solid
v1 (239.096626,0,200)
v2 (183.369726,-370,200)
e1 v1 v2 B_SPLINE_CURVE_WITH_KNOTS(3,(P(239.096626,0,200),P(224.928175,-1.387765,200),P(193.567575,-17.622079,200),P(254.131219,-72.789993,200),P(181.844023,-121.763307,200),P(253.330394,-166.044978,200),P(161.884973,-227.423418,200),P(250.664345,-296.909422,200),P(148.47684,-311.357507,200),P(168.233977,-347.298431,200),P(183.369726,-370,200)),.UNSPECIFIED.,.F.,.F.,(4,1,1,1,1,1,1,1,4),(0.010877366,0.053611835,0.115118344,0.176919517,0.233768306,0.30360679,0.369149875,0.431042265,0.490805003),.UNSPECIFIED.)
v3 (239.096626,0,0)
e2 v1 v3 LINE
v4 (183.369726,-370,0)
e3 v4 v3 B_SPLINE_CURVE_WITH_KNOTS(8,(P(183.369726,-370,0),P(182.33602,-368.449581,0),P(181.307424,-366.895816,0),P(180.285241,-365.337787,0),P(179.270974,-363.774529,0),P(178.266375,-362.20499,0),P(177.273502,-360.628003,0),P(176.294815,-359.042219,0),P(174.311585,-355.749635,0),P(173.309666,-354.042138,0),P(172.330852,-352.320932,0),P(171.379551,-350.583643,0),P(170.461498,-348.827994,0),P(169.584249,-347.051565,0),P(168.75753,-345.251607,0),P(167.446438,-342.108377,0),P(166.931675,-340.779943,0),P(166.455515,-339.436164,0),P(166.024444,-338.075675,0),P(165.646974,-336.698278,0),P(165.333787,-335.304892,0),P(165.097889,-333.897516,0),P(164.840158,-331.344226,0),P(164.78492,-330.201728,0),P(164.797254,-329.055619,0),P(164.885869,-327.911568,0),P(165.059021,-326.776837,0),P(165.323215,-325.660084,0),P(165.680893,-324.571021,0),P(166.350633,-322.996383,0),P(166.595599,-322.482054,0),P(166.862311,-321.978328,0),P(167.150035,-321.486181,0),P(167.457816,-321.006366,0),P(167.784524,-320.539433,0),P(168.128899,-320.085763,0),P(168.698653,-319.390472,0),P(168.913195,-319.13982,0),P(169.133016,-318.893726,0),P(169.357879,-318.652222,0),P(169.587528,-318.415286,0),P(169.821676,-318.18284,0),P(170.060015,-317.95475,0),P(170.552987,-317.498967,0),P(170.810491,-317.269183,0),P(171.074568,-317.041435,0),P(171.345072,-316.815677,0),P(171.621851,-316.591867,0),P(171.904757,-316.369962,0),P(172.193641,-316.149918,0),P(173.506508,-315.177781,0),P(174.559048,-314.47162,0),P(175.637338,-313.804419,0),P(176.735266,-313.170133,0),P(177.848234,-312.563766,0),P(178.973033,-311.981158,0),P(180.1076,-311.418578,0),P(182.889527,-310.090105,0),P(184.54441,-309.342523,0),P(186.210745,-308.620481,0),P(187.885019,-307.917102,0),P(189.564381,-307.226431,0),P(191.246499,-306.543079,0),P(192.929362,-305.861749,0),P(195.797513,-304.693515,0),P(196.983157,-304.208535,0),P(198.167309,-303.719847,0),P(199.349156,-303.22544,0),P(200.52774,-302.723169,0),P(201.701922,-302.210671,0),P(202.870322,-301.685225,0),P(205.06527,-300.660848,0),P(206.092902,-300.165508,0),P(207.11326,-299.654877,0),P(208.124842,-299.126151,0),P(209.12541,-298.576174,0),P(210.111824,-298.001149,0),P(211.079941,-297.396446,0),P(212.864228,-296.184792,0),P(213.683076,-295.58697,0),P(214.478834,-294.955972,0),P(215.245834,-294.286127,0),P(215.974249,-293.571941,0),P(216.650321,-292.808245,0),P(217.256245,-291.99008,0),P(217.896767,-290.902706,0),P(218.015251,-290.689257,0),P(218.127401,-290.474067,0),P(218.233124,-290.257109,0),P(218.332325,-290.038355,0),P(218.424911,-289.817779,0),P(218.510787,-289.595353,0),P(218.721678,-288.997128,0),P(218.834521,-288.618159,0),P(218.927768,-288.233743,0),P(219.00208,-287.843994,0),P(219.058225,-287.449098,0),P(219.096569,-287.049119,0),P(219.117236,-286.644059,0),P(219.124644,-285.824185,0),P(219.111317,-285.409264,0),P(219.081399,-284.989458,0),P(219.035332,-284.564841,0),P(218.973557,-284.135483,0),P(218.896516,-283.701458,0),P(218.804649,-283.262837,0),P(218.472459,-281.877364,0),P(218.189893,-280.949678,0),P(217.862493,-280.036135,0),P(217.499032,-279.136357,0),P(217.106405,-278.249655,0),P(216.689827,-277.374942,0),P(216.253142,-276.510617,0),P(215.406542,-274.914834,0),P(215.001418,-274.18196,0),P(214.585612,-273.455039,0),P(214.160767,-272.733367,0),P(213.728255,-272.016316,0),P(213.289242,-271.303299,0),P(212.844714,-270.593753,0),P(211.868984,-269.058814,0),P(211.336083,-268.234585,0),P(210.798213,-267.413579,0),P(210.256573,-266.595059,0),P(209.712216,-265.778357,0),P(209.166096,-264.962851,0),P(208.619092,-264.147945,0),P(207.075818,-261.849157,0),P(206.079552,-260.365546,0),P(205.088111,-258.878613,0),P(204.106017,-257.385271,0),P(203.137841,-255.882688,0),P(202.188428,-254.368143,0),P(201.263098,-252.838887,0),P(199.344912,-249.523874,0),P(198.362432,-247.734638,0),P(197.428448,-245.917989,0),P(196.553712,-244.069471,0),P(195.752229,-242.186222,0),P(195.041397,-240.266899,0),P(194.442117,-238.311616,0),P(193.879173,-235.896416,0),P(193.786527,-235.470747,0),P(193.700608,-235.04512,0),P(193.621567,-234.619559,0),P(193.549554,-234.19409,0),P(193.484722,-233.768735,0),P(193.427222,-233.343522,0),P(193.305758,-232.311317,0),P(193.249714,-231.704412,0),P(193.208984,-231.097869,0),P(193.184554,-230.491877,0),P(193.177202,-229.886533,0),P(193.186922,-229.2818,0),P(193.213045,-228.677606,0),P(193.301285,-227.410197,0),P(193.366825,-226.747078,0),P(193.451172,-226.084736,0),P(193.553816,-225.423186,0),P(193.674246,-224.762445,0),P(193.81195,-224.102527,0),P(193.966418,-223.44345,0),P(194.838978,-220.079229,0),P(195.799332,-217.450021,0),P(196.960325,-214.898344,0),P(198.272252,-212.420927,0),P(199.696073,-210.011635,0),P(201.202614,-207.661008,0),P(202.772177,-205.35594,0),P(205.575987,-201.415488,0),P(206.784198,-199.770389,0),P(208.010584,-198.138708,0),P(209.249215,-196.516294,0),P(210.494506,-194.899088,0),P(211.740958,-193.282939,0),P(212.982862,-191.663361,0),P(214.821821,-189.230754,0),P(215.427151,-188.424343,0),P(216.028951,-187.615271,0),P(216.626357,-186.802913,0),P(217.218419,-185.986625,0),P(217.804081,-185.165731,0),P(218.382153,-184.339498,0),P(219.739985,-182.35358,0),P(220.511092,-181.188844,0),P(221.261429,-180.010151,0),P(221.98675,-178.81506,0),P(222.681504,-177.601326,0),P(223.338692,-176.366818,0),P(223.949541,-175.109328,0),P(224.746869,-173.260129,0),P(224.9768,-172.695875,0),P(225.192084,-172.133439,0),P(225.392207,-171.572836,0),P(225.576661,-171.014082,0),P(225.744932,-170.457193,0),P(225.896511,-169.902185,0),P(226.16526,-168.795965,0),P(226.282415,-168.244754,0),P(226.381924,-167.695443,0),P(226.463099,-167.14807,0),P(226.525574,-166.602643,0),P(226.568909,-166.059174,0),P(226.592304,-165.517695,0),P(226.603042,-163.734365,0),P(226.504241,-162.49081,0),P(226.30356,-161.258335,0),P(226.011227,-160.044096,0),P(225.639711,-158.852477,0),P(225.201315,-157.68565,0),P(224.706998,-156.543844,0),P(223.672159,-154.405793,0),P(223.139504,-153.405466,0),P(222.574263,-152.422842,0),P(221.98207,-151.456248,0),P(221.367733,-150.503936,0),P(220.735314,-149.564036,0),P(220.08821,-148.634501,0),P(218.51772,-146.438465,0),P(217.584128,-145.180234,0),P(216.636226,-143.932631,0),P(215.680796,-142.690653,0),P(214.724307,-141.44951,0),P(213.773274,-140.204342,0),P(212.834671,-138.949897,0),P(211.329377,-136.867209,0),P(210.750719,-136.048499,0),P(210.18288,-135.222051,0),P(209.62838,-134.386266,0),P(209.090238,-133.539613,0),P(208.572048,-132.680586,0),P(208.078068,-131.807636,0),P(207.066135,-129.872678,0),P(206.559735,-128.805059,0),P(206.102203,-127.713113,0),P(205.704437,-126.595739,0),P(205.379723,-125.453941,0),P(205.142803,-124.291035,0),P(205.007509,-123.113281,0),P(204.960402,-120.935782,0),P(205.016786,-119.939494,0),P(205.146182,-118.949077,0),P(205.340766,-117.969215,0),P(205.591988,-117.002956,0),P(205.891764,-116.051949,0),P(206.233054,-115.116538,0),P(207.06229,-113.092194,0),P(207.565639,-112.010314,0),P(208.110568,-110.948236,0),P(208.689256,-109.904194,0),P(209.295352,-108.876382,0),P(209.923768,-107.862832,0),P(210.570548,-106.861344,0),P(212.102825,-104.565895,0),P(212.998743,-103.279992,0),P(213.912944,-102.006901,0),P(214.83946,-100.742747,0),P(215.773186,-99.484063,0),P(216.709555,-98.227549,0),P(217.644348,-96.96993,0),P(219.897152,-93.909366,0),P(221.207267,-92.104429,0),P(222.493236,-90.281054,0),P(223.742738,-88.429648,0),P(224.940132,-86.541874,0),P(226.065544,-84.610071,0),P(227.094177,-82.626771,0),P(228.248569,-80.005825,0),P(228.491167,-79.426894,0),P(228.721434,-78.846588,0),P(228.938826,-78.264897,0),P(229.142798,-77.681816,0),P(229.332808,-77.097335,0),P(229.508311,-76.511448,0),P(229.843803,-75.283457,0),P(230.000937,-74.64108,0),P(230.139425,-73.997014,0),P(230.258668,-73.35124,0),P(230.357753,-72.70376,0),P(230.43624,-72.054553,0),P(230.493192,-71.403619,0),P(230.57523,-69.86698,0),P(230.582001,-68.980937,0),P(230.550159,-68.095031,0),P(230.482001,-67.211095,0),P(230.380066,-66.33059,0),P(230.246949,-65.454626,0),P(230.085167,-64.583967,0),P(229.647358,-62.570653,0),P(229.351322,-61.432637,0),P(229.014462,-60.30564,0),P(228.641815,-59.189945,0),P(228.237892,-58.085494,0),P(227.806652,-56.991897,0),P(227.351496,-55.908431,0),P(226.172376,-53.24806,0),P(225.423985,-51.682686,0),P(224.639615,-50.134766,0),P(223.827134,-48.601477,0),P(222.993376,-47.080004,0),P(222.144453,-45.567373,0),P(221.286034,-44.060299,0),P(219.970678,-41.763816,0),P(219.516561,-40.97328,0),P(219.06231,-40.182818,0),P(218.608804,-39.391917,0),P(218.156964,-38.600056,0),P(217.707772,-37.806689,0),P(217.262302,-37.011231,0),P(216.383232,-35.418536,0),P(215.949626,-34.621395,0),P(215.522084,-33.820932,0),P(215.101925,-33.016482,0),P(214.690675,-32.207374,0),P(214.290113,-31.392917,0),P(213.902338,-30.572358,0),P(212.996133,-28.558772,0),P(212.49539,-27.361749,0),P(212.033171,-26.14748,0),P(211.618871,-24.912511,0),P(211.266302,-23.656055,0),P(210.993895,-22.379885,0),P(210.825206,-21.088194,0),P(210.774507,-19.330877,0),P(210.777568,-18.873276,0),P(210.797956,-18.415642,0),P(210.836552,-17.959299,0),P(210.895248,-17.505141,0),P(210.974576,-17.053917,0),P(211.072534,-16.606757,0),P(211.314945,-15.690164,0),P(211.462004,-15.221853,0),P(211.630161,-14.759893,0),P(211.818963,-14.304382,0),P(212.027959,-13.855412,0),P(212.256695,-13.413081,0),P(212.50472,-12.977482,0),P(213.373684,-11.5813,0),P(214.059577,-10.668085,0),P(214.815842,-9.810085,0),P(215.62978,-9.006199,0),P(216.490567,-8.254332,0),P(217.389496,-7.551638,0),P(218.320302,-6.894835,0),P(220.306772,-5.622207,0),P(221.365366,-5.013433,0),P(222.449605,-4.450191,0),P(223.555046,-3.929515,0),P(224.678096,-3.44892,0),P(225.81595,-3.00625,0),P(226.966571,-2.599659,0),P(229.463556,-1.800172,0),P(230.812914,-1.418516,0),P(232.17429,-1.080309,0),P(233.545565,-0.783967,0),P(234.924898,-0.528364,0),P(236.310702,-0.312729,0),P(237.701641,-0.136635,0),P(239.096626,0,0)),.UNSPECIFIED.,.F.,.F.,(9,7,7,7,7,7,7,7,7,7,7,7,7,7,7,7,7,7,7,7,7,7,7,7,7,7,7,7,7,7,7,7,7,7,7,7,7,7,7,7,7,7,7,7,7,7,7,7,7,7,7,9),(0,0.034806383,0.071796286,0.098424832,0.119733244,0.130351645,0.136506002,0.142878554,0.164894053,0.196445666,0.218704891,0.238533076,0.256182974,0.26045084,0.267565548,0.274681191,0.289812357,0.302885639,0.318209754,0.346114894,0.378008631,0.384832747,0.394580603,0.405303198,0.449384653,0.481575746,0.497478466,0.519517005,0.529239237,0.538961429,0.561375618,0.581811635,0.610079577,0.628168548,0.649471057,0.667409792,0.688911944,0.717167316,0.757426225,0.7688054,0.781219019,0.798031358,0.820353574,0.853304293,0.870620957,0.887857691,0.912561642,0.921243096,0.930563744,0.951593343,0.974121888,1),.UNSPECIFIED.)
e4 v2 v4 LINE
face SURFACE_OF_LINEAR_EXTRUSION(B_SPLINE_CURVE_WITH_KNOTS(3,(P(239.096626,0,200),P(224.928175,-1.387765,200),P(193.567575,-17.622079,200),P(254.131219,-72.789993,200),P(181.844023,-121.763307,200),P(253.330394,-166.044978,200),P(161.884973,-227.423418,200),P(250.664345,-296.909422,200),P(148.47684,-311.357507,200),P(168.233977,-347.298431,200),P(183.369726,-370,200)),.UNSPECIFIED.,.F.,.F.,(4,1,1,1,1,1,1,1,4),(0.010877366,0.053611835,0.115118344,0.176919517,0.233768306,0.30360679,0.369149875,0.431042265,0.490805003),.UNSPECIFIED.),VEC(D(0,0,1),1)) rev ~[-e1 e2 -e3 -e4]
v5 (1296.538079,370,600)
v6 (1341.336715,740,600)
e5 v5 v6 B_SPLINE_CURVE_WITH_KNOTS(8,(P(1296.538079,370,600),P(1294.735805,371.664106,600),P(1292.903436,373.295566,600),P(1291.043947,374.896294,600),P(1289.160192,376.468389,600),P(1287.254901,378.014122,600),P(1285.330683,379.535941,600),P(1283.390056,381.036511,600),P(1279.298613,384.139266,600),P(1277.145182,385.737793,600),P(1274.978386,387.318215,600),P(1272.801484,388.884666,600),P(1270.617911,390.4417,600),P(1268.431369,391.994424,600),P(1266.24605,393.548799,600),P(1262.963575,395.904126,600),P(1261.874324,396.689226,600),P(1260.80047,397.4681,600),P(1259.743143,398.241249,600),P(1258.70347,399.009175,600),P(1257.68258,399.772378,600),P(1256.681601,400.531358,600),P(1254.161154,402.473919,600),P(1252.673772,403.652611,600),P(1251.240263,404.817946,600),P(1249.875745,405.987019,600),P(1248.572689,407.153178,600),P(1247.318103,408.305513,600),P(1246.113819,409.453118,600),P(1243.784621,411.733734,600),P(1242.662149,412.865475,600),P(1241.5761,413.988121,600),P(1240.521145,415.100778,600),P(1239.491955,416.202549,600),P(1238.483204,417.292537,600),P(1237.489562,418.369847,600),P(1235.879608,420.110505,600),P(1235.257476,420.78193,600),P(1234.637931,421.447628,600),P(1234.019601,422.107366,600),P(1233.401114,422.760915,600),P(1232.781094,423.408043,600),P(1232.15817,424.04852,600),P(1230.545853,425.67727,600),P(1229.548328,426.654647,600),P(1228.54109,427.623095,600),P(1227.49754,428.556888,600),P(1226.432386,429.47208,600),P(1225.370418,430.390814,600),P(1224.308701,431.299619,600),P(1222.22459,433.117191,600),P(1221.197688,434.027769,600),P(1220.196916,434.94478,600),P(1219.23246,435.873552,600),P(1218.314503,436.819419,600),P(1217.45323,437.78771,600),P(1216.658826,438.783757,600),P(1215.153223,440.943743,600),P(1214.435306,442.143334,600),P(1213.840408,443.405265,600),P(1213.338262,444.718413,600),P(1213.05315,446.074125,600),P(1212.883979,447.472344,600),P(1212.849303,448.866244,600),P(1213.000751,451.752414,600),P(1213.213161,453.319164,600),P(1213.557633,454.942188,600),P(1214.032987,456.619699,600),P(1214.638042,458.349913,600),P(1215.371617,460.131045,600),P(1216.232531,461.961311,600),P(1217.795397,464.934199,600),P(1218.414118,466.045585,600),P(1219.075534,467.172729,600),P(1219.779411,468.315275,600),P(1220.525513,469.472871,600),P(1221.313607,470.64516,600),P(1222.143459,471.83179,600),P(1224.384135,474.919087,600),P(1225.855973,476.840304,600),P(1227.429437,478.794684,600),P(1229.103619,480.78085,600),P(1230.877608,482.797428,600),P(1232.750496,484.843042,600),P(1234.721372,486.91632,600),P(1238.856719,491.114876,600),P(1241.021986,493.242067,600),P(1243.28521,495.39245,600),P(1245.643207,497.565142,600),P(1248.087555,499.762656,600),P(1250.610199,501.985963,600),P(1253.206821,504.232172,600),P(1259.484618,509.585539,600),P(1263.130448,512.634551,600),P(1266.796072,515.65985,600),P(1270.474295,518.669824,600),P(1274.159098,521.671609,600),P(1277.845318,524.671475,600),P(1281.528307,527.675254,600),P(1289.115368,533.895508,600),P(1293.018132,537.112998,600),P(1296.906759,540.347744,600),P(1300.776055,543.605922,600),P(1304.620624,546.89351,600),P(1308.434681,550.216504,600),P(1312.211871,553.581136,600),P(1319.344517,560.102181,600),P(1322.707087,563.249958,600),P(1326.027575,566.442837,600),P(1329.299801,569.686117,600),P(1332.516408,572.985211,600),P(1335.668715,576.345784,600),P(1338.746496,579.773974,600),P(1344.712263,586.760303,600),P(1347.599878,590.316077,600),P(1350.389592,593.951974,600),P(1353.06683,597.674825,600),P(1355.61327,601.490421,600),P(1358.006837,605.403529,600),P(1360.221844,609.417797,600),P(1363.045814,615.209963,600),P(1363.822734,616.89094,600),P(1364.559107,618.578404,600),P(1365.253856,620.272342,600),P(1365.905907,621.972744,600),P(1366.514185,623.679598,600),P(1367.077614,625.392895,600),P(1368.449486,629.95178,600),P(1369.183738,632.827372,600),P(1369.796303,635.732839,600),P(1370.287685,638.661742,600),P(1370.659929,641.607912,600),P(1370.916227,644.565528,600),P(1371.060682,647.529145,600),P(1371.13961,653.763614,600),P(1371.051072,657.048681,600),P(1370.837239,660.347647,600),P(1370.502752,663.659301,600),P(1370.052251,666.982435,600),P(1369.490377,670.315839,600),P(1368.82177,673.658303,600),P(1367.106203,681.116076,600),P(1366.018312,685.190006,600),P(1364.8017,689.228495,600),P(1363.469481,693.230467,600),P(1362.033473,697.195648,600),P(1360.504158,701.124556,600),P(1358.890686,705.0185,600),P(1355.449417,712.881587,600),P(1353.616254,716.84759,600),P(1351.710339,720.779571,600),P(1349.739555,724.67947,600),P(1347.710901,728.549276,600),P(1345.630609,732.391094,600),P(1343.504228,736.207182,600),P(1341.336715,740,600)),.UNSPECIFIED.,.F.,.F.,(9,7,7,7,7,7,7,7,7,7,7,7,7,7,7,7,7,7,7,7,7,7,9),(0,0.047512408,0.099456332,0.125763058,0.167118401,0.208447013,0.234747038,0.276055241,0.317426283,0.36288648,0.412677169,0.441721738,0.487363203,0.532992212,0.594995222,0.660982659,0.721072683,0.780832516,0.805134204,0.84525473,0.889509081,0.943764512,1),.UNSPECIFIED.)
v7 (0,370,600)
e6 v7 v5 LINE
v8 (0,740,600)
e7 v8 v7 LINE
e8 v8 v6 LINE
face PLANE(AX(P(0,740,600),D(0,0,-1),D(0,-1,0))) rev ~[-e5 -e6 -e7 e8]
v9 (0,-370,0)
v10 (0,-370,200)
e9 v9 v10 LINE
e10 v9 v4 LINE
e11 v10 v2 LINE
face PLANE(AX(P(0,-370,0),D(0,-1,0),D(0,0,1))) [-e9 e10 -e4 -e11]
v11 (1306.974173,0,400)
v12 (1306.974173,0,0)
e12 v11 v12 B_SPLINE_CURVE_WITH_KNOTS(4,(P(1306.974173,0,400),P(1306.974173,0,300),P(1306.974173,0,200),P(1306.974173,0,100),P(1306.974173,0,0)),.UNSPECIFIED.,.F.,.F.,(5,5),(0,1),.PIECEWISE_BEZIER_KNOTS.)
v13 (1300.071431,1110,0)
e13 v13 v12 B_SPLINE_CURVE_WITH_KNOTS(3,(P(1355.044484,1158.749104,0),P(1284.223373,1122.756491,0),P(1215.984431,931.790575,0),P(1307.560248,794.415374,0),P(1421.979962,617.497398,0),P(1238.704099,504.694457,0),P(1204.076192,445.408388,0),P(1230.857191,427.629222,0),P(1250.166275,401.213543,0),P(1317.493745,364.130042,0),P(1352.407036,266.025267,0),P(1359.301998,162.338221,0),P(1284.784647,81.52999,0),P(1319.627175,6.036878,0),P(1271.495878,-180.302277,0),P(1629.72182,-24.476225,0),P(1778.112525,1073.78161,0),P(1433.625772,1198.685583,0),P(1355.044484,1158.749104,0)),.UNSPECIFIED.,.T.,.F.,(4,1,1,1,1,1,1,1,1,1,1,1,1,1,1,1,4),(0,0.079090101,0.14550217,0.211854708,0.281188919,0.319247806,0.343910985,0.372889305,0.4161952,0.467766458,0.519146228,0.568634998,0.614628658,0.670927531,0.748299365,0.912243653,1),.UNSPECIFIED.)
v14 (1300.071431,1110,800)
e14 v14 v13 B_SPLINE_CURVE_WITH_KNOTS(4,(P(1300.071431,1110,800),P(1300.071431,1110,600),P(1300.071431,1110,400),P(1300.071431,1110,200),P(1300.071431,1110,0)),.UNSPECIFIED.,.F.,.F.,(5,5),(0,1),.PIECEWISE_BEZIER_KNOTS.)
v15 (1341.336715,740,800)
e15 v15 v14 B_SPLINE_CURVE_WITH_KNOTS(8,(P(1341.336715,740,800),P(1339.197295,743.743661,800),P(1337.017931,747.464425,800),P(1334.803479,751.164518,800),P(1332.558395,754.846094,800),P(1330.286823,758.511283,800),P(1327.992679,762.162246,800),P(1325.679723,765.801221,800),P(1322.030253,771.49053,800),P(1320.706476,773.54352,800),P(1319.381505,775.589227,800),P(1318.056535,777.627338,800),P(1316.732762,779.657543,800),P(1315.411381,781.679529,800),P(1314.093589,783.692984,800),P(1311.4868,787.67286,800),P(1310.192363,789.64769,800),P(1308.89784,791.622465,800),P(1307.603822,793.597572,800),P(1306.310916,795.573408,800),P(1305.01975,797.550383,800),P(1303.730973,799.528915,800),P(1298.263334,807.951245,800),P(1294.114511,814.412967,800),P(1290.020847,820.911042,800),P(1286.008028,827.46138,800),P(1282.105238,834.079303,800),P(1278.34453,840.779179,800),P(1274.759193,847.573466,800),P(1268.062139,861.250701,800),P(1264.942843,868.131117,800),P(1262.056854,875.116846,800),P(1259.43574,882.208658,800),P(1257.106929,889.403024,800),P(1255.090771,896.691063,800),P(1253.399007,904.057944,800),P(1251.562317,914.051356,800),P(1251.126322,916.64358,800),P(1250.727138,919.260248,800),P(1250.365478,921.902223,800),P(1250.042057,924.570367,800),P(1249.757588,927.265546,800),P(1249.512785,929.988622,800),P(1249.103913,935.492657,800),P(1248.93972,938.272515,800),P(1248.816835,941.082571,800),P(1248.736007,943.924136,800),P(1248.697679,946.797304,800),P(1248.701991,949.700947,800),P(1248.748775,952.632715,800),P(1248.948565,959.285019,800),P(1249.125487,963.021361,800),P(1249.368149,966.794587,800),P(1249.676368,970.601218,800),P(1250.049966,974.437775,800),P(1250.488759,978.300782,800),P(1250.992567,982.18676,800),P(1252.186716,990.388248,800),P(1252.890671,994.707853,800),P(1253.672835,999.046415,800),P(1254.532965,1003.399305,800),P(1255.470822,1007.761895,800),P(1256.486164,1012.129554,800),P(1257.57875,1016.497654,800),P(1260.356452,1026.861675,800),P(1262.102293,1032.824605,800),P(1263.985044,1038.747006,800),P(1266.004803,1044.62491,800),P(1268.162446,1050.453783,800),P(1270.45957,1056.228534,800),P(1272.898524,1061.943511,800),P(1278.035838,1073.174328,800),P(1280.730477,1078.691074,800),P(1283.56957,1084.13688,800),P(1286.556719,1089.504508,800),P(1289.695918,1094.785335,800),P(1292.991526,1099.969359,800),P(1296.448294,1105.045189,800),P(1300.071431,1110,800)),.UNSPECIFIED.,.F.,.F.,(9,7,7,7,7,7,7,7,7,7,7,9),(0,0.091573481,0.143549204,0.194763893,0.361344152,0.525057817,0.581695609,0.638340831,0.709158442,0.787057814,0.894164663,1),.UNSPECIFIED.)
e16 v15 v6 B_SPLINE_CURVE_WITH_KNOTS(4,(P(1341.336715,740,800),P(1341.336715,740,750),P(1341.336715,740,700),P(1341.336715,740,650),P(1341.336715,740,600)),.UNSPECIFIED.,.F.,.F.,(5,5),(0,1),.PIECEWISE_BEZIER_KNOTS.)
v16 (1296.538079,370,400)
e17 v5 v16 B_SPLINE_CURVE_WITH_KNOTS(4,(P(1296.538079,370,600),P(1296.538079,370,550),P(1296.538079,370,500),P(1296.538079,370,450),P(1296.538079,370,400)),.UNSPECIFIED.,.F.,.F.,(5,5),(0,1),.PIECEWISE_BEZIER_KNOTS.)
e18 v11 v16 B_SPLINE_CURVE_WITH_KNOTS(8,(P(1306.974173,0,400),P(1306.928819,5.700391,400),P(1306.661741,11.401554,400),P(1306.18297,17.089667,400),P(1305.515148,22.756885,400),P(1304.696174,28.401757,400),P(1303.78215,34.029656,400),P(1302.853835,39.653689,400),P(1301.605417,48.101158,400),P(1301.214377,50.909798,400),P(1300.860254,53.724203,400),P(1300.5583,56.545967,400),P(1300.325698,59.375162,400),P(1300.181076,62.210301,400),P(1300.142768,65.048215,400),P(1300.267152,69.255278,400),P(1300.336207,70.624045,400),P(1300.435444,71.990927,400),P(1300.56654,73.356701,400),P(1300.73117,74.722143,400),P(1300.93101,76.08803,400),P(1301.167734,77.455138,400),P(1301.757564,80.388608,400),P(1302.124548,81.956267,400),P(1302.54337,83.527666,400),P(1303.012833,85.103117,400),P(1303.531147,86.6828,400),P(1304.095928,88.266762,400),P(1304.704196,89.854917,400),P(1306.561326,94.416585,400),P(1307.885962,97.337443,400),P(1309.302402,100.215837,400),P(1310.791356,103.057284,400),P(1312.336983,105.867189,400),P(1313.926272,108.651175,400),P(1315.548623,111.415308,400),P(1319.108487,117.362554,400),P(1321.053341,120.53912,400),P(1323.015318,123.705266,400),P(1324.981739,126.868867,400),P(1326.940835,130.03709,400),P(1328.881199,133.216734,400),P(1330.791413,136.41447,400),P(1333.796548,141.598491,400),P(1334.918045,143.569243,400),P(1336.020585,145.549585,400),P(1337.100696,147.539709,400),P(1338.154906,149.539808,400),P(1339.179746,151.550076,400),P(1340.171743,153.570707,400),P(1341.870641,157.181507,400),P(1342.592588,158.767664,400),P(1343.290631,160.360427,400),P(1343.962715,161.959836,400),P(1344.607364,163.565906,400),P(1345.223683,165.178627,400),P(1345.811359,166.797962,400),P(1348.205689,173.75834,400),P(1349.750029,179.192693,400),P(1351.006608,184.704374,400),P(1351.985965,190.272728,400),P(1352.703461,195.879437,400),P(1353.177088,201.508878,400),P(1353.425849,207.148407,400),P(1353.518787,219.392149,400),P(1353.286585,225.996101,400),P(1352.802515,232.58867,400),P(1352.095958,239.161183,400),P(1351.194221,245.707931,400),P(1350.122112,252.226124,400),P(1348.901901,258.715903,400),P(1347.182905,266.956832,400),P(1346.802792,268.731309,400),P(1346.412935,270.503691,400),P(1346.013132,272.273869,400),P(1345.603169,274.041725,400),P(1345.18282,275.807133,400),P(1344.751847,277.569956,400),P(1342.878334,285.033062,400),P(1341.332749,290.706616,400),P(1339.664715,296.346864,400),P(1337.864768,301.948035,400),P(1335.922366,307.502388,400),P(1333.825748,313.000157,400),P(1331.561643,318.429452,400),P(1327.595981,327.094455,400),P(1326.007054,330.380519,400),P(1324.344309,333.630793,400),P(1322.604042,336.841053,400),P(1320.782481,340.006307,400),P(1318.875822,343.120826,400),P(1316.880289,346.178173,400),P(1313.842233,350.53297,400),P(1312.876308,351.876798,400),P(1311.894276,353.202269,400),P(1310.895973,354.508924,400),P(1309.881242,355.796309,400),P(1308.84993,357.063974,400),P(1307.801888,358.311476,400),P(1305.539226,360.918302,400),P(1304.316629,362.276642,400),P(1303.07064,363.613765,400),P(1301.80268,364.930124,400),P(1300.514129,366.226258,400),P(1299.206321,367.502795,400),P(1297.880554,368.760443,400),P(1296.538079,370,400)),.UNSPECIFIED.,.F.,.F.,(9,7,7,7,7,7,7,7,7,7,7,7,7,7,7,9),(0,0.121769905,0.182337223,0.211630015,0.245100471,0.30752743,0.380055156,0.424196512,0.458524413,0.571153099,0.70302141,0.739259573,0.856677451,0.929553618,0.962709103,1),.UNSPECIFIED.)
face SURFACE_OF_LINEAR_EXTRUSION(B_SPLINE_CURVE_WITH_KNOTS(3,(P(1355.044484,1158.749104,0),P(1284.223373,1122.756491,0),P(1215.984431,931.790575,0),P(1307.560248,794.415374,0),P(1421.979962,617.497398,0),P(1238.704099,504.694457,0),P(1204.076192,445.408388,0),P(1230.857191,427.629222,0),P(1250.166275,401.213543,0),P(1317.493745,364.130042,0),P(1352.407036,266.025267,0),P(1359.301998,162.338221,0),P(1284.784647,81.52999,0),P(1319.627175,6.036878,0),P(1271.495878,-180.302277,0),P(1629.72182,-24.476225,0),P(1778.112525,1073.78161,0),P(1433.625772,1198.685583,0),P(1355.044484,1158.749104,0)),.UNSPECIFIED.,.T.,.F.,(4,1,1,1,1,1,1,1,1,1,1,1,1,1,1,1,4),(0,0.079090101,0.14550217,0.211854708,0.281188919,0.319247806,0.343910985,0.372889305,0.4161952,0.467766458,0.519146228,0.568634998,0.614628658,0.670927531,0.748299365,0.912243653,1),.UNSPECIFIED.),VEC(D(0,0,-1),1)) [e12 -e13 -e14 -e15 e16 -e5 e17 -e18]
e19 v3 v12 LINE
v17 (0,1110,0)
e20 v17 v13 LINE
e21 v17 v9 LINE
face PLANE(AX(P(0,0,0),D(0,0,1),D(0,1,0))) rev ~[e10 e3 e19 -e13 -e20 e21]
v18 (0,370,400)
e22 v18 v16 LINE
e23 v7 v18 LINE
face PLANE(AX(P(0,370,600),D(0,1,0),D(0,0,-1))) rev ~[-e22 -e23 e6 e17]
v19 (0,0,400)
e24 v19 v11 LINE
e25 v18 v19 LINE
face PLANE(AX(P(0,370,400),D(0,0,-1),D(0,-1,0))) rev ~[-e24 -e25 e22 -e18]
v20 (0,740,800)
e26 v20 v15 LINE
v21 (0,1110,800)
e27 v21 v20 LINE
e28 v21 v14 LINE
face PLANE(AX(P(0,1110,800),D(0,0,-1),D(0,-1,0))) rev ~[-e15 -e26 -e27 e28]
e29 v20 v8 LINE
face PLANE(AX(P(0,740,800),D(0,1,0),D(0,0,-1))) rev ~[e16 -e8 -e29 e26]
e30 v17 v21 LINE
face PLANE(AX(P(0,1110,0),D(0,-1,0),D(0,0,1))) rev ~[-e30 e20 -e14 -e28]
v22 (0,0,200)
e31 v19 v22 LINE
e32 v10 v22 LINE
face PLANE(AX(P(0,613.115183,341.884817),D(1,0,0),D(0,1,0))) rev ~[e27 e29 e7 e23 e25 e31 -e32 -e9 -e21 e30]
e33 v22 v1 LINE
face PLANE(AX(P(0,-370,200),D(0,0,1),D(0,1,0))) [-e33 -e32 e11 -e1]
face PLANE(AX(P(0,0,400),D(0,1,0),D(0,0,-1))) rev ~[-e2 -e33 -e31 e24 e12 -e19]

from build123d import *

# Parameters (mm, degrees)
F0_W     = 370
F0_H     = 200
F1_DEPTH = 250
F3_DEPTH = 1400
F5_DEPTH = 200.001
F7_DEPTH = 800.001


with BuildPart() as f1:
    # F0 (on Right) → F1 (new body)
    with BuildSketch(Plane.YZ):
        with Locations((-185, 100)):
            Rectangle(F0_W, F0_H)
    extrude(amount=F1_DEPTH)

    # F2 (on Right) → F3 (join)
    with BuildSketch(Plane.YZ):
        Polygon((0, 400), (0, 0), (1110, 0), (1110, 800), (740, 800), (740, 600), (370, 600), (370, 400), align=None)
    extrude(amount=F3_DEPTH)

    # F4 (on face) → F5 (cut, through all)
    with BuildSketch(Plane.XY.offset(200)):
        with BuildLine():
            Line((250, -370), (250, 0))
            Line((250, 0), (239.0966257007, 0))
            add(Edge.make_bspline(
                [(239.0966257007, 0), (224.9281745367, -1.3877650412), (193.5675752206, -17.6220787936), (254.1312191274, -72.7899930375), (181.8440227877, -121.7633073225), (253.330394472, -166.0449779372), (161.8849726525, -227.4234181148), (250.6643454579, -296.9094215229), (148.4768404974, -311.3575065291), (168.233976576, -347.2984312104), (183.3697259426, -370)],
                knots=[0.0108773659, 0.0108773659, 0.0108773659, 0.0108773659, 0.0536118354, 0.115118344, 0.1769195174, 0.2337683064, 0.3036067901, 0.3691498749, 0.431042265, 0.4908050033, 0.4908050033, 0.4908050033, 0.4908050033], degree=3))
            Line((183.3697259426, -370), (250, -370))
        make_face()
    extrude(amount=-F5_DEPTH, mode=Mode.SUBTRACT)

    # F6 (on Top) → F7 (cut, through all)
    with BuildSketch(Plane.XY):
        with BuildLine():
            add(Edge.make_bspline(
                [(1355.0444841385, 1158.7491035461), (1284.2233729879, 1122.7564913323), (1215.9844306573, 931.7905753878), (1307.560248118, 794.4153741816), (1421.9799618969, 617.4973979427), (1238.7040991782, 504.6944569107), (1204.0761922351, 445.4083884275), (1230.8571910461, 427.6292215241), (1250.1662751719, 401.2135430471), (1317.493744612, 364.130041832), (1352.4070358264, 266.0252666363), (1359.3019982753, 162.3382206665), (1284.7846468273, 81.5299903552), (1319.6271754815, 6.0368781426), (1271.4958776342, -180.3022766639), (1629.7218201893, -24.4762249566), (1778.1125247876, 1073.7816100627), (1433.6257724113, 1198.6855827982), (1355.0444841385, 1158.7491035461)],
                knots=[0, 0, 0, 0, 0.0790901007, 0.1455021695, 0.2118547084, 0.2811889193, 0.3192478056, 0.3439109846, 0.3728893055, 0.4161952003, 0.4677664575, 0.5191462279, 0.5686349976, 0.6146286579, 0.6709275311, 0.7482993654, 0.912243653, 1, 1, 1, 1], degree=3))
        make_face()
    extrude(amount=F7_DEPTH, mode=Mode.SUBTRACT)


solid = f1.part
